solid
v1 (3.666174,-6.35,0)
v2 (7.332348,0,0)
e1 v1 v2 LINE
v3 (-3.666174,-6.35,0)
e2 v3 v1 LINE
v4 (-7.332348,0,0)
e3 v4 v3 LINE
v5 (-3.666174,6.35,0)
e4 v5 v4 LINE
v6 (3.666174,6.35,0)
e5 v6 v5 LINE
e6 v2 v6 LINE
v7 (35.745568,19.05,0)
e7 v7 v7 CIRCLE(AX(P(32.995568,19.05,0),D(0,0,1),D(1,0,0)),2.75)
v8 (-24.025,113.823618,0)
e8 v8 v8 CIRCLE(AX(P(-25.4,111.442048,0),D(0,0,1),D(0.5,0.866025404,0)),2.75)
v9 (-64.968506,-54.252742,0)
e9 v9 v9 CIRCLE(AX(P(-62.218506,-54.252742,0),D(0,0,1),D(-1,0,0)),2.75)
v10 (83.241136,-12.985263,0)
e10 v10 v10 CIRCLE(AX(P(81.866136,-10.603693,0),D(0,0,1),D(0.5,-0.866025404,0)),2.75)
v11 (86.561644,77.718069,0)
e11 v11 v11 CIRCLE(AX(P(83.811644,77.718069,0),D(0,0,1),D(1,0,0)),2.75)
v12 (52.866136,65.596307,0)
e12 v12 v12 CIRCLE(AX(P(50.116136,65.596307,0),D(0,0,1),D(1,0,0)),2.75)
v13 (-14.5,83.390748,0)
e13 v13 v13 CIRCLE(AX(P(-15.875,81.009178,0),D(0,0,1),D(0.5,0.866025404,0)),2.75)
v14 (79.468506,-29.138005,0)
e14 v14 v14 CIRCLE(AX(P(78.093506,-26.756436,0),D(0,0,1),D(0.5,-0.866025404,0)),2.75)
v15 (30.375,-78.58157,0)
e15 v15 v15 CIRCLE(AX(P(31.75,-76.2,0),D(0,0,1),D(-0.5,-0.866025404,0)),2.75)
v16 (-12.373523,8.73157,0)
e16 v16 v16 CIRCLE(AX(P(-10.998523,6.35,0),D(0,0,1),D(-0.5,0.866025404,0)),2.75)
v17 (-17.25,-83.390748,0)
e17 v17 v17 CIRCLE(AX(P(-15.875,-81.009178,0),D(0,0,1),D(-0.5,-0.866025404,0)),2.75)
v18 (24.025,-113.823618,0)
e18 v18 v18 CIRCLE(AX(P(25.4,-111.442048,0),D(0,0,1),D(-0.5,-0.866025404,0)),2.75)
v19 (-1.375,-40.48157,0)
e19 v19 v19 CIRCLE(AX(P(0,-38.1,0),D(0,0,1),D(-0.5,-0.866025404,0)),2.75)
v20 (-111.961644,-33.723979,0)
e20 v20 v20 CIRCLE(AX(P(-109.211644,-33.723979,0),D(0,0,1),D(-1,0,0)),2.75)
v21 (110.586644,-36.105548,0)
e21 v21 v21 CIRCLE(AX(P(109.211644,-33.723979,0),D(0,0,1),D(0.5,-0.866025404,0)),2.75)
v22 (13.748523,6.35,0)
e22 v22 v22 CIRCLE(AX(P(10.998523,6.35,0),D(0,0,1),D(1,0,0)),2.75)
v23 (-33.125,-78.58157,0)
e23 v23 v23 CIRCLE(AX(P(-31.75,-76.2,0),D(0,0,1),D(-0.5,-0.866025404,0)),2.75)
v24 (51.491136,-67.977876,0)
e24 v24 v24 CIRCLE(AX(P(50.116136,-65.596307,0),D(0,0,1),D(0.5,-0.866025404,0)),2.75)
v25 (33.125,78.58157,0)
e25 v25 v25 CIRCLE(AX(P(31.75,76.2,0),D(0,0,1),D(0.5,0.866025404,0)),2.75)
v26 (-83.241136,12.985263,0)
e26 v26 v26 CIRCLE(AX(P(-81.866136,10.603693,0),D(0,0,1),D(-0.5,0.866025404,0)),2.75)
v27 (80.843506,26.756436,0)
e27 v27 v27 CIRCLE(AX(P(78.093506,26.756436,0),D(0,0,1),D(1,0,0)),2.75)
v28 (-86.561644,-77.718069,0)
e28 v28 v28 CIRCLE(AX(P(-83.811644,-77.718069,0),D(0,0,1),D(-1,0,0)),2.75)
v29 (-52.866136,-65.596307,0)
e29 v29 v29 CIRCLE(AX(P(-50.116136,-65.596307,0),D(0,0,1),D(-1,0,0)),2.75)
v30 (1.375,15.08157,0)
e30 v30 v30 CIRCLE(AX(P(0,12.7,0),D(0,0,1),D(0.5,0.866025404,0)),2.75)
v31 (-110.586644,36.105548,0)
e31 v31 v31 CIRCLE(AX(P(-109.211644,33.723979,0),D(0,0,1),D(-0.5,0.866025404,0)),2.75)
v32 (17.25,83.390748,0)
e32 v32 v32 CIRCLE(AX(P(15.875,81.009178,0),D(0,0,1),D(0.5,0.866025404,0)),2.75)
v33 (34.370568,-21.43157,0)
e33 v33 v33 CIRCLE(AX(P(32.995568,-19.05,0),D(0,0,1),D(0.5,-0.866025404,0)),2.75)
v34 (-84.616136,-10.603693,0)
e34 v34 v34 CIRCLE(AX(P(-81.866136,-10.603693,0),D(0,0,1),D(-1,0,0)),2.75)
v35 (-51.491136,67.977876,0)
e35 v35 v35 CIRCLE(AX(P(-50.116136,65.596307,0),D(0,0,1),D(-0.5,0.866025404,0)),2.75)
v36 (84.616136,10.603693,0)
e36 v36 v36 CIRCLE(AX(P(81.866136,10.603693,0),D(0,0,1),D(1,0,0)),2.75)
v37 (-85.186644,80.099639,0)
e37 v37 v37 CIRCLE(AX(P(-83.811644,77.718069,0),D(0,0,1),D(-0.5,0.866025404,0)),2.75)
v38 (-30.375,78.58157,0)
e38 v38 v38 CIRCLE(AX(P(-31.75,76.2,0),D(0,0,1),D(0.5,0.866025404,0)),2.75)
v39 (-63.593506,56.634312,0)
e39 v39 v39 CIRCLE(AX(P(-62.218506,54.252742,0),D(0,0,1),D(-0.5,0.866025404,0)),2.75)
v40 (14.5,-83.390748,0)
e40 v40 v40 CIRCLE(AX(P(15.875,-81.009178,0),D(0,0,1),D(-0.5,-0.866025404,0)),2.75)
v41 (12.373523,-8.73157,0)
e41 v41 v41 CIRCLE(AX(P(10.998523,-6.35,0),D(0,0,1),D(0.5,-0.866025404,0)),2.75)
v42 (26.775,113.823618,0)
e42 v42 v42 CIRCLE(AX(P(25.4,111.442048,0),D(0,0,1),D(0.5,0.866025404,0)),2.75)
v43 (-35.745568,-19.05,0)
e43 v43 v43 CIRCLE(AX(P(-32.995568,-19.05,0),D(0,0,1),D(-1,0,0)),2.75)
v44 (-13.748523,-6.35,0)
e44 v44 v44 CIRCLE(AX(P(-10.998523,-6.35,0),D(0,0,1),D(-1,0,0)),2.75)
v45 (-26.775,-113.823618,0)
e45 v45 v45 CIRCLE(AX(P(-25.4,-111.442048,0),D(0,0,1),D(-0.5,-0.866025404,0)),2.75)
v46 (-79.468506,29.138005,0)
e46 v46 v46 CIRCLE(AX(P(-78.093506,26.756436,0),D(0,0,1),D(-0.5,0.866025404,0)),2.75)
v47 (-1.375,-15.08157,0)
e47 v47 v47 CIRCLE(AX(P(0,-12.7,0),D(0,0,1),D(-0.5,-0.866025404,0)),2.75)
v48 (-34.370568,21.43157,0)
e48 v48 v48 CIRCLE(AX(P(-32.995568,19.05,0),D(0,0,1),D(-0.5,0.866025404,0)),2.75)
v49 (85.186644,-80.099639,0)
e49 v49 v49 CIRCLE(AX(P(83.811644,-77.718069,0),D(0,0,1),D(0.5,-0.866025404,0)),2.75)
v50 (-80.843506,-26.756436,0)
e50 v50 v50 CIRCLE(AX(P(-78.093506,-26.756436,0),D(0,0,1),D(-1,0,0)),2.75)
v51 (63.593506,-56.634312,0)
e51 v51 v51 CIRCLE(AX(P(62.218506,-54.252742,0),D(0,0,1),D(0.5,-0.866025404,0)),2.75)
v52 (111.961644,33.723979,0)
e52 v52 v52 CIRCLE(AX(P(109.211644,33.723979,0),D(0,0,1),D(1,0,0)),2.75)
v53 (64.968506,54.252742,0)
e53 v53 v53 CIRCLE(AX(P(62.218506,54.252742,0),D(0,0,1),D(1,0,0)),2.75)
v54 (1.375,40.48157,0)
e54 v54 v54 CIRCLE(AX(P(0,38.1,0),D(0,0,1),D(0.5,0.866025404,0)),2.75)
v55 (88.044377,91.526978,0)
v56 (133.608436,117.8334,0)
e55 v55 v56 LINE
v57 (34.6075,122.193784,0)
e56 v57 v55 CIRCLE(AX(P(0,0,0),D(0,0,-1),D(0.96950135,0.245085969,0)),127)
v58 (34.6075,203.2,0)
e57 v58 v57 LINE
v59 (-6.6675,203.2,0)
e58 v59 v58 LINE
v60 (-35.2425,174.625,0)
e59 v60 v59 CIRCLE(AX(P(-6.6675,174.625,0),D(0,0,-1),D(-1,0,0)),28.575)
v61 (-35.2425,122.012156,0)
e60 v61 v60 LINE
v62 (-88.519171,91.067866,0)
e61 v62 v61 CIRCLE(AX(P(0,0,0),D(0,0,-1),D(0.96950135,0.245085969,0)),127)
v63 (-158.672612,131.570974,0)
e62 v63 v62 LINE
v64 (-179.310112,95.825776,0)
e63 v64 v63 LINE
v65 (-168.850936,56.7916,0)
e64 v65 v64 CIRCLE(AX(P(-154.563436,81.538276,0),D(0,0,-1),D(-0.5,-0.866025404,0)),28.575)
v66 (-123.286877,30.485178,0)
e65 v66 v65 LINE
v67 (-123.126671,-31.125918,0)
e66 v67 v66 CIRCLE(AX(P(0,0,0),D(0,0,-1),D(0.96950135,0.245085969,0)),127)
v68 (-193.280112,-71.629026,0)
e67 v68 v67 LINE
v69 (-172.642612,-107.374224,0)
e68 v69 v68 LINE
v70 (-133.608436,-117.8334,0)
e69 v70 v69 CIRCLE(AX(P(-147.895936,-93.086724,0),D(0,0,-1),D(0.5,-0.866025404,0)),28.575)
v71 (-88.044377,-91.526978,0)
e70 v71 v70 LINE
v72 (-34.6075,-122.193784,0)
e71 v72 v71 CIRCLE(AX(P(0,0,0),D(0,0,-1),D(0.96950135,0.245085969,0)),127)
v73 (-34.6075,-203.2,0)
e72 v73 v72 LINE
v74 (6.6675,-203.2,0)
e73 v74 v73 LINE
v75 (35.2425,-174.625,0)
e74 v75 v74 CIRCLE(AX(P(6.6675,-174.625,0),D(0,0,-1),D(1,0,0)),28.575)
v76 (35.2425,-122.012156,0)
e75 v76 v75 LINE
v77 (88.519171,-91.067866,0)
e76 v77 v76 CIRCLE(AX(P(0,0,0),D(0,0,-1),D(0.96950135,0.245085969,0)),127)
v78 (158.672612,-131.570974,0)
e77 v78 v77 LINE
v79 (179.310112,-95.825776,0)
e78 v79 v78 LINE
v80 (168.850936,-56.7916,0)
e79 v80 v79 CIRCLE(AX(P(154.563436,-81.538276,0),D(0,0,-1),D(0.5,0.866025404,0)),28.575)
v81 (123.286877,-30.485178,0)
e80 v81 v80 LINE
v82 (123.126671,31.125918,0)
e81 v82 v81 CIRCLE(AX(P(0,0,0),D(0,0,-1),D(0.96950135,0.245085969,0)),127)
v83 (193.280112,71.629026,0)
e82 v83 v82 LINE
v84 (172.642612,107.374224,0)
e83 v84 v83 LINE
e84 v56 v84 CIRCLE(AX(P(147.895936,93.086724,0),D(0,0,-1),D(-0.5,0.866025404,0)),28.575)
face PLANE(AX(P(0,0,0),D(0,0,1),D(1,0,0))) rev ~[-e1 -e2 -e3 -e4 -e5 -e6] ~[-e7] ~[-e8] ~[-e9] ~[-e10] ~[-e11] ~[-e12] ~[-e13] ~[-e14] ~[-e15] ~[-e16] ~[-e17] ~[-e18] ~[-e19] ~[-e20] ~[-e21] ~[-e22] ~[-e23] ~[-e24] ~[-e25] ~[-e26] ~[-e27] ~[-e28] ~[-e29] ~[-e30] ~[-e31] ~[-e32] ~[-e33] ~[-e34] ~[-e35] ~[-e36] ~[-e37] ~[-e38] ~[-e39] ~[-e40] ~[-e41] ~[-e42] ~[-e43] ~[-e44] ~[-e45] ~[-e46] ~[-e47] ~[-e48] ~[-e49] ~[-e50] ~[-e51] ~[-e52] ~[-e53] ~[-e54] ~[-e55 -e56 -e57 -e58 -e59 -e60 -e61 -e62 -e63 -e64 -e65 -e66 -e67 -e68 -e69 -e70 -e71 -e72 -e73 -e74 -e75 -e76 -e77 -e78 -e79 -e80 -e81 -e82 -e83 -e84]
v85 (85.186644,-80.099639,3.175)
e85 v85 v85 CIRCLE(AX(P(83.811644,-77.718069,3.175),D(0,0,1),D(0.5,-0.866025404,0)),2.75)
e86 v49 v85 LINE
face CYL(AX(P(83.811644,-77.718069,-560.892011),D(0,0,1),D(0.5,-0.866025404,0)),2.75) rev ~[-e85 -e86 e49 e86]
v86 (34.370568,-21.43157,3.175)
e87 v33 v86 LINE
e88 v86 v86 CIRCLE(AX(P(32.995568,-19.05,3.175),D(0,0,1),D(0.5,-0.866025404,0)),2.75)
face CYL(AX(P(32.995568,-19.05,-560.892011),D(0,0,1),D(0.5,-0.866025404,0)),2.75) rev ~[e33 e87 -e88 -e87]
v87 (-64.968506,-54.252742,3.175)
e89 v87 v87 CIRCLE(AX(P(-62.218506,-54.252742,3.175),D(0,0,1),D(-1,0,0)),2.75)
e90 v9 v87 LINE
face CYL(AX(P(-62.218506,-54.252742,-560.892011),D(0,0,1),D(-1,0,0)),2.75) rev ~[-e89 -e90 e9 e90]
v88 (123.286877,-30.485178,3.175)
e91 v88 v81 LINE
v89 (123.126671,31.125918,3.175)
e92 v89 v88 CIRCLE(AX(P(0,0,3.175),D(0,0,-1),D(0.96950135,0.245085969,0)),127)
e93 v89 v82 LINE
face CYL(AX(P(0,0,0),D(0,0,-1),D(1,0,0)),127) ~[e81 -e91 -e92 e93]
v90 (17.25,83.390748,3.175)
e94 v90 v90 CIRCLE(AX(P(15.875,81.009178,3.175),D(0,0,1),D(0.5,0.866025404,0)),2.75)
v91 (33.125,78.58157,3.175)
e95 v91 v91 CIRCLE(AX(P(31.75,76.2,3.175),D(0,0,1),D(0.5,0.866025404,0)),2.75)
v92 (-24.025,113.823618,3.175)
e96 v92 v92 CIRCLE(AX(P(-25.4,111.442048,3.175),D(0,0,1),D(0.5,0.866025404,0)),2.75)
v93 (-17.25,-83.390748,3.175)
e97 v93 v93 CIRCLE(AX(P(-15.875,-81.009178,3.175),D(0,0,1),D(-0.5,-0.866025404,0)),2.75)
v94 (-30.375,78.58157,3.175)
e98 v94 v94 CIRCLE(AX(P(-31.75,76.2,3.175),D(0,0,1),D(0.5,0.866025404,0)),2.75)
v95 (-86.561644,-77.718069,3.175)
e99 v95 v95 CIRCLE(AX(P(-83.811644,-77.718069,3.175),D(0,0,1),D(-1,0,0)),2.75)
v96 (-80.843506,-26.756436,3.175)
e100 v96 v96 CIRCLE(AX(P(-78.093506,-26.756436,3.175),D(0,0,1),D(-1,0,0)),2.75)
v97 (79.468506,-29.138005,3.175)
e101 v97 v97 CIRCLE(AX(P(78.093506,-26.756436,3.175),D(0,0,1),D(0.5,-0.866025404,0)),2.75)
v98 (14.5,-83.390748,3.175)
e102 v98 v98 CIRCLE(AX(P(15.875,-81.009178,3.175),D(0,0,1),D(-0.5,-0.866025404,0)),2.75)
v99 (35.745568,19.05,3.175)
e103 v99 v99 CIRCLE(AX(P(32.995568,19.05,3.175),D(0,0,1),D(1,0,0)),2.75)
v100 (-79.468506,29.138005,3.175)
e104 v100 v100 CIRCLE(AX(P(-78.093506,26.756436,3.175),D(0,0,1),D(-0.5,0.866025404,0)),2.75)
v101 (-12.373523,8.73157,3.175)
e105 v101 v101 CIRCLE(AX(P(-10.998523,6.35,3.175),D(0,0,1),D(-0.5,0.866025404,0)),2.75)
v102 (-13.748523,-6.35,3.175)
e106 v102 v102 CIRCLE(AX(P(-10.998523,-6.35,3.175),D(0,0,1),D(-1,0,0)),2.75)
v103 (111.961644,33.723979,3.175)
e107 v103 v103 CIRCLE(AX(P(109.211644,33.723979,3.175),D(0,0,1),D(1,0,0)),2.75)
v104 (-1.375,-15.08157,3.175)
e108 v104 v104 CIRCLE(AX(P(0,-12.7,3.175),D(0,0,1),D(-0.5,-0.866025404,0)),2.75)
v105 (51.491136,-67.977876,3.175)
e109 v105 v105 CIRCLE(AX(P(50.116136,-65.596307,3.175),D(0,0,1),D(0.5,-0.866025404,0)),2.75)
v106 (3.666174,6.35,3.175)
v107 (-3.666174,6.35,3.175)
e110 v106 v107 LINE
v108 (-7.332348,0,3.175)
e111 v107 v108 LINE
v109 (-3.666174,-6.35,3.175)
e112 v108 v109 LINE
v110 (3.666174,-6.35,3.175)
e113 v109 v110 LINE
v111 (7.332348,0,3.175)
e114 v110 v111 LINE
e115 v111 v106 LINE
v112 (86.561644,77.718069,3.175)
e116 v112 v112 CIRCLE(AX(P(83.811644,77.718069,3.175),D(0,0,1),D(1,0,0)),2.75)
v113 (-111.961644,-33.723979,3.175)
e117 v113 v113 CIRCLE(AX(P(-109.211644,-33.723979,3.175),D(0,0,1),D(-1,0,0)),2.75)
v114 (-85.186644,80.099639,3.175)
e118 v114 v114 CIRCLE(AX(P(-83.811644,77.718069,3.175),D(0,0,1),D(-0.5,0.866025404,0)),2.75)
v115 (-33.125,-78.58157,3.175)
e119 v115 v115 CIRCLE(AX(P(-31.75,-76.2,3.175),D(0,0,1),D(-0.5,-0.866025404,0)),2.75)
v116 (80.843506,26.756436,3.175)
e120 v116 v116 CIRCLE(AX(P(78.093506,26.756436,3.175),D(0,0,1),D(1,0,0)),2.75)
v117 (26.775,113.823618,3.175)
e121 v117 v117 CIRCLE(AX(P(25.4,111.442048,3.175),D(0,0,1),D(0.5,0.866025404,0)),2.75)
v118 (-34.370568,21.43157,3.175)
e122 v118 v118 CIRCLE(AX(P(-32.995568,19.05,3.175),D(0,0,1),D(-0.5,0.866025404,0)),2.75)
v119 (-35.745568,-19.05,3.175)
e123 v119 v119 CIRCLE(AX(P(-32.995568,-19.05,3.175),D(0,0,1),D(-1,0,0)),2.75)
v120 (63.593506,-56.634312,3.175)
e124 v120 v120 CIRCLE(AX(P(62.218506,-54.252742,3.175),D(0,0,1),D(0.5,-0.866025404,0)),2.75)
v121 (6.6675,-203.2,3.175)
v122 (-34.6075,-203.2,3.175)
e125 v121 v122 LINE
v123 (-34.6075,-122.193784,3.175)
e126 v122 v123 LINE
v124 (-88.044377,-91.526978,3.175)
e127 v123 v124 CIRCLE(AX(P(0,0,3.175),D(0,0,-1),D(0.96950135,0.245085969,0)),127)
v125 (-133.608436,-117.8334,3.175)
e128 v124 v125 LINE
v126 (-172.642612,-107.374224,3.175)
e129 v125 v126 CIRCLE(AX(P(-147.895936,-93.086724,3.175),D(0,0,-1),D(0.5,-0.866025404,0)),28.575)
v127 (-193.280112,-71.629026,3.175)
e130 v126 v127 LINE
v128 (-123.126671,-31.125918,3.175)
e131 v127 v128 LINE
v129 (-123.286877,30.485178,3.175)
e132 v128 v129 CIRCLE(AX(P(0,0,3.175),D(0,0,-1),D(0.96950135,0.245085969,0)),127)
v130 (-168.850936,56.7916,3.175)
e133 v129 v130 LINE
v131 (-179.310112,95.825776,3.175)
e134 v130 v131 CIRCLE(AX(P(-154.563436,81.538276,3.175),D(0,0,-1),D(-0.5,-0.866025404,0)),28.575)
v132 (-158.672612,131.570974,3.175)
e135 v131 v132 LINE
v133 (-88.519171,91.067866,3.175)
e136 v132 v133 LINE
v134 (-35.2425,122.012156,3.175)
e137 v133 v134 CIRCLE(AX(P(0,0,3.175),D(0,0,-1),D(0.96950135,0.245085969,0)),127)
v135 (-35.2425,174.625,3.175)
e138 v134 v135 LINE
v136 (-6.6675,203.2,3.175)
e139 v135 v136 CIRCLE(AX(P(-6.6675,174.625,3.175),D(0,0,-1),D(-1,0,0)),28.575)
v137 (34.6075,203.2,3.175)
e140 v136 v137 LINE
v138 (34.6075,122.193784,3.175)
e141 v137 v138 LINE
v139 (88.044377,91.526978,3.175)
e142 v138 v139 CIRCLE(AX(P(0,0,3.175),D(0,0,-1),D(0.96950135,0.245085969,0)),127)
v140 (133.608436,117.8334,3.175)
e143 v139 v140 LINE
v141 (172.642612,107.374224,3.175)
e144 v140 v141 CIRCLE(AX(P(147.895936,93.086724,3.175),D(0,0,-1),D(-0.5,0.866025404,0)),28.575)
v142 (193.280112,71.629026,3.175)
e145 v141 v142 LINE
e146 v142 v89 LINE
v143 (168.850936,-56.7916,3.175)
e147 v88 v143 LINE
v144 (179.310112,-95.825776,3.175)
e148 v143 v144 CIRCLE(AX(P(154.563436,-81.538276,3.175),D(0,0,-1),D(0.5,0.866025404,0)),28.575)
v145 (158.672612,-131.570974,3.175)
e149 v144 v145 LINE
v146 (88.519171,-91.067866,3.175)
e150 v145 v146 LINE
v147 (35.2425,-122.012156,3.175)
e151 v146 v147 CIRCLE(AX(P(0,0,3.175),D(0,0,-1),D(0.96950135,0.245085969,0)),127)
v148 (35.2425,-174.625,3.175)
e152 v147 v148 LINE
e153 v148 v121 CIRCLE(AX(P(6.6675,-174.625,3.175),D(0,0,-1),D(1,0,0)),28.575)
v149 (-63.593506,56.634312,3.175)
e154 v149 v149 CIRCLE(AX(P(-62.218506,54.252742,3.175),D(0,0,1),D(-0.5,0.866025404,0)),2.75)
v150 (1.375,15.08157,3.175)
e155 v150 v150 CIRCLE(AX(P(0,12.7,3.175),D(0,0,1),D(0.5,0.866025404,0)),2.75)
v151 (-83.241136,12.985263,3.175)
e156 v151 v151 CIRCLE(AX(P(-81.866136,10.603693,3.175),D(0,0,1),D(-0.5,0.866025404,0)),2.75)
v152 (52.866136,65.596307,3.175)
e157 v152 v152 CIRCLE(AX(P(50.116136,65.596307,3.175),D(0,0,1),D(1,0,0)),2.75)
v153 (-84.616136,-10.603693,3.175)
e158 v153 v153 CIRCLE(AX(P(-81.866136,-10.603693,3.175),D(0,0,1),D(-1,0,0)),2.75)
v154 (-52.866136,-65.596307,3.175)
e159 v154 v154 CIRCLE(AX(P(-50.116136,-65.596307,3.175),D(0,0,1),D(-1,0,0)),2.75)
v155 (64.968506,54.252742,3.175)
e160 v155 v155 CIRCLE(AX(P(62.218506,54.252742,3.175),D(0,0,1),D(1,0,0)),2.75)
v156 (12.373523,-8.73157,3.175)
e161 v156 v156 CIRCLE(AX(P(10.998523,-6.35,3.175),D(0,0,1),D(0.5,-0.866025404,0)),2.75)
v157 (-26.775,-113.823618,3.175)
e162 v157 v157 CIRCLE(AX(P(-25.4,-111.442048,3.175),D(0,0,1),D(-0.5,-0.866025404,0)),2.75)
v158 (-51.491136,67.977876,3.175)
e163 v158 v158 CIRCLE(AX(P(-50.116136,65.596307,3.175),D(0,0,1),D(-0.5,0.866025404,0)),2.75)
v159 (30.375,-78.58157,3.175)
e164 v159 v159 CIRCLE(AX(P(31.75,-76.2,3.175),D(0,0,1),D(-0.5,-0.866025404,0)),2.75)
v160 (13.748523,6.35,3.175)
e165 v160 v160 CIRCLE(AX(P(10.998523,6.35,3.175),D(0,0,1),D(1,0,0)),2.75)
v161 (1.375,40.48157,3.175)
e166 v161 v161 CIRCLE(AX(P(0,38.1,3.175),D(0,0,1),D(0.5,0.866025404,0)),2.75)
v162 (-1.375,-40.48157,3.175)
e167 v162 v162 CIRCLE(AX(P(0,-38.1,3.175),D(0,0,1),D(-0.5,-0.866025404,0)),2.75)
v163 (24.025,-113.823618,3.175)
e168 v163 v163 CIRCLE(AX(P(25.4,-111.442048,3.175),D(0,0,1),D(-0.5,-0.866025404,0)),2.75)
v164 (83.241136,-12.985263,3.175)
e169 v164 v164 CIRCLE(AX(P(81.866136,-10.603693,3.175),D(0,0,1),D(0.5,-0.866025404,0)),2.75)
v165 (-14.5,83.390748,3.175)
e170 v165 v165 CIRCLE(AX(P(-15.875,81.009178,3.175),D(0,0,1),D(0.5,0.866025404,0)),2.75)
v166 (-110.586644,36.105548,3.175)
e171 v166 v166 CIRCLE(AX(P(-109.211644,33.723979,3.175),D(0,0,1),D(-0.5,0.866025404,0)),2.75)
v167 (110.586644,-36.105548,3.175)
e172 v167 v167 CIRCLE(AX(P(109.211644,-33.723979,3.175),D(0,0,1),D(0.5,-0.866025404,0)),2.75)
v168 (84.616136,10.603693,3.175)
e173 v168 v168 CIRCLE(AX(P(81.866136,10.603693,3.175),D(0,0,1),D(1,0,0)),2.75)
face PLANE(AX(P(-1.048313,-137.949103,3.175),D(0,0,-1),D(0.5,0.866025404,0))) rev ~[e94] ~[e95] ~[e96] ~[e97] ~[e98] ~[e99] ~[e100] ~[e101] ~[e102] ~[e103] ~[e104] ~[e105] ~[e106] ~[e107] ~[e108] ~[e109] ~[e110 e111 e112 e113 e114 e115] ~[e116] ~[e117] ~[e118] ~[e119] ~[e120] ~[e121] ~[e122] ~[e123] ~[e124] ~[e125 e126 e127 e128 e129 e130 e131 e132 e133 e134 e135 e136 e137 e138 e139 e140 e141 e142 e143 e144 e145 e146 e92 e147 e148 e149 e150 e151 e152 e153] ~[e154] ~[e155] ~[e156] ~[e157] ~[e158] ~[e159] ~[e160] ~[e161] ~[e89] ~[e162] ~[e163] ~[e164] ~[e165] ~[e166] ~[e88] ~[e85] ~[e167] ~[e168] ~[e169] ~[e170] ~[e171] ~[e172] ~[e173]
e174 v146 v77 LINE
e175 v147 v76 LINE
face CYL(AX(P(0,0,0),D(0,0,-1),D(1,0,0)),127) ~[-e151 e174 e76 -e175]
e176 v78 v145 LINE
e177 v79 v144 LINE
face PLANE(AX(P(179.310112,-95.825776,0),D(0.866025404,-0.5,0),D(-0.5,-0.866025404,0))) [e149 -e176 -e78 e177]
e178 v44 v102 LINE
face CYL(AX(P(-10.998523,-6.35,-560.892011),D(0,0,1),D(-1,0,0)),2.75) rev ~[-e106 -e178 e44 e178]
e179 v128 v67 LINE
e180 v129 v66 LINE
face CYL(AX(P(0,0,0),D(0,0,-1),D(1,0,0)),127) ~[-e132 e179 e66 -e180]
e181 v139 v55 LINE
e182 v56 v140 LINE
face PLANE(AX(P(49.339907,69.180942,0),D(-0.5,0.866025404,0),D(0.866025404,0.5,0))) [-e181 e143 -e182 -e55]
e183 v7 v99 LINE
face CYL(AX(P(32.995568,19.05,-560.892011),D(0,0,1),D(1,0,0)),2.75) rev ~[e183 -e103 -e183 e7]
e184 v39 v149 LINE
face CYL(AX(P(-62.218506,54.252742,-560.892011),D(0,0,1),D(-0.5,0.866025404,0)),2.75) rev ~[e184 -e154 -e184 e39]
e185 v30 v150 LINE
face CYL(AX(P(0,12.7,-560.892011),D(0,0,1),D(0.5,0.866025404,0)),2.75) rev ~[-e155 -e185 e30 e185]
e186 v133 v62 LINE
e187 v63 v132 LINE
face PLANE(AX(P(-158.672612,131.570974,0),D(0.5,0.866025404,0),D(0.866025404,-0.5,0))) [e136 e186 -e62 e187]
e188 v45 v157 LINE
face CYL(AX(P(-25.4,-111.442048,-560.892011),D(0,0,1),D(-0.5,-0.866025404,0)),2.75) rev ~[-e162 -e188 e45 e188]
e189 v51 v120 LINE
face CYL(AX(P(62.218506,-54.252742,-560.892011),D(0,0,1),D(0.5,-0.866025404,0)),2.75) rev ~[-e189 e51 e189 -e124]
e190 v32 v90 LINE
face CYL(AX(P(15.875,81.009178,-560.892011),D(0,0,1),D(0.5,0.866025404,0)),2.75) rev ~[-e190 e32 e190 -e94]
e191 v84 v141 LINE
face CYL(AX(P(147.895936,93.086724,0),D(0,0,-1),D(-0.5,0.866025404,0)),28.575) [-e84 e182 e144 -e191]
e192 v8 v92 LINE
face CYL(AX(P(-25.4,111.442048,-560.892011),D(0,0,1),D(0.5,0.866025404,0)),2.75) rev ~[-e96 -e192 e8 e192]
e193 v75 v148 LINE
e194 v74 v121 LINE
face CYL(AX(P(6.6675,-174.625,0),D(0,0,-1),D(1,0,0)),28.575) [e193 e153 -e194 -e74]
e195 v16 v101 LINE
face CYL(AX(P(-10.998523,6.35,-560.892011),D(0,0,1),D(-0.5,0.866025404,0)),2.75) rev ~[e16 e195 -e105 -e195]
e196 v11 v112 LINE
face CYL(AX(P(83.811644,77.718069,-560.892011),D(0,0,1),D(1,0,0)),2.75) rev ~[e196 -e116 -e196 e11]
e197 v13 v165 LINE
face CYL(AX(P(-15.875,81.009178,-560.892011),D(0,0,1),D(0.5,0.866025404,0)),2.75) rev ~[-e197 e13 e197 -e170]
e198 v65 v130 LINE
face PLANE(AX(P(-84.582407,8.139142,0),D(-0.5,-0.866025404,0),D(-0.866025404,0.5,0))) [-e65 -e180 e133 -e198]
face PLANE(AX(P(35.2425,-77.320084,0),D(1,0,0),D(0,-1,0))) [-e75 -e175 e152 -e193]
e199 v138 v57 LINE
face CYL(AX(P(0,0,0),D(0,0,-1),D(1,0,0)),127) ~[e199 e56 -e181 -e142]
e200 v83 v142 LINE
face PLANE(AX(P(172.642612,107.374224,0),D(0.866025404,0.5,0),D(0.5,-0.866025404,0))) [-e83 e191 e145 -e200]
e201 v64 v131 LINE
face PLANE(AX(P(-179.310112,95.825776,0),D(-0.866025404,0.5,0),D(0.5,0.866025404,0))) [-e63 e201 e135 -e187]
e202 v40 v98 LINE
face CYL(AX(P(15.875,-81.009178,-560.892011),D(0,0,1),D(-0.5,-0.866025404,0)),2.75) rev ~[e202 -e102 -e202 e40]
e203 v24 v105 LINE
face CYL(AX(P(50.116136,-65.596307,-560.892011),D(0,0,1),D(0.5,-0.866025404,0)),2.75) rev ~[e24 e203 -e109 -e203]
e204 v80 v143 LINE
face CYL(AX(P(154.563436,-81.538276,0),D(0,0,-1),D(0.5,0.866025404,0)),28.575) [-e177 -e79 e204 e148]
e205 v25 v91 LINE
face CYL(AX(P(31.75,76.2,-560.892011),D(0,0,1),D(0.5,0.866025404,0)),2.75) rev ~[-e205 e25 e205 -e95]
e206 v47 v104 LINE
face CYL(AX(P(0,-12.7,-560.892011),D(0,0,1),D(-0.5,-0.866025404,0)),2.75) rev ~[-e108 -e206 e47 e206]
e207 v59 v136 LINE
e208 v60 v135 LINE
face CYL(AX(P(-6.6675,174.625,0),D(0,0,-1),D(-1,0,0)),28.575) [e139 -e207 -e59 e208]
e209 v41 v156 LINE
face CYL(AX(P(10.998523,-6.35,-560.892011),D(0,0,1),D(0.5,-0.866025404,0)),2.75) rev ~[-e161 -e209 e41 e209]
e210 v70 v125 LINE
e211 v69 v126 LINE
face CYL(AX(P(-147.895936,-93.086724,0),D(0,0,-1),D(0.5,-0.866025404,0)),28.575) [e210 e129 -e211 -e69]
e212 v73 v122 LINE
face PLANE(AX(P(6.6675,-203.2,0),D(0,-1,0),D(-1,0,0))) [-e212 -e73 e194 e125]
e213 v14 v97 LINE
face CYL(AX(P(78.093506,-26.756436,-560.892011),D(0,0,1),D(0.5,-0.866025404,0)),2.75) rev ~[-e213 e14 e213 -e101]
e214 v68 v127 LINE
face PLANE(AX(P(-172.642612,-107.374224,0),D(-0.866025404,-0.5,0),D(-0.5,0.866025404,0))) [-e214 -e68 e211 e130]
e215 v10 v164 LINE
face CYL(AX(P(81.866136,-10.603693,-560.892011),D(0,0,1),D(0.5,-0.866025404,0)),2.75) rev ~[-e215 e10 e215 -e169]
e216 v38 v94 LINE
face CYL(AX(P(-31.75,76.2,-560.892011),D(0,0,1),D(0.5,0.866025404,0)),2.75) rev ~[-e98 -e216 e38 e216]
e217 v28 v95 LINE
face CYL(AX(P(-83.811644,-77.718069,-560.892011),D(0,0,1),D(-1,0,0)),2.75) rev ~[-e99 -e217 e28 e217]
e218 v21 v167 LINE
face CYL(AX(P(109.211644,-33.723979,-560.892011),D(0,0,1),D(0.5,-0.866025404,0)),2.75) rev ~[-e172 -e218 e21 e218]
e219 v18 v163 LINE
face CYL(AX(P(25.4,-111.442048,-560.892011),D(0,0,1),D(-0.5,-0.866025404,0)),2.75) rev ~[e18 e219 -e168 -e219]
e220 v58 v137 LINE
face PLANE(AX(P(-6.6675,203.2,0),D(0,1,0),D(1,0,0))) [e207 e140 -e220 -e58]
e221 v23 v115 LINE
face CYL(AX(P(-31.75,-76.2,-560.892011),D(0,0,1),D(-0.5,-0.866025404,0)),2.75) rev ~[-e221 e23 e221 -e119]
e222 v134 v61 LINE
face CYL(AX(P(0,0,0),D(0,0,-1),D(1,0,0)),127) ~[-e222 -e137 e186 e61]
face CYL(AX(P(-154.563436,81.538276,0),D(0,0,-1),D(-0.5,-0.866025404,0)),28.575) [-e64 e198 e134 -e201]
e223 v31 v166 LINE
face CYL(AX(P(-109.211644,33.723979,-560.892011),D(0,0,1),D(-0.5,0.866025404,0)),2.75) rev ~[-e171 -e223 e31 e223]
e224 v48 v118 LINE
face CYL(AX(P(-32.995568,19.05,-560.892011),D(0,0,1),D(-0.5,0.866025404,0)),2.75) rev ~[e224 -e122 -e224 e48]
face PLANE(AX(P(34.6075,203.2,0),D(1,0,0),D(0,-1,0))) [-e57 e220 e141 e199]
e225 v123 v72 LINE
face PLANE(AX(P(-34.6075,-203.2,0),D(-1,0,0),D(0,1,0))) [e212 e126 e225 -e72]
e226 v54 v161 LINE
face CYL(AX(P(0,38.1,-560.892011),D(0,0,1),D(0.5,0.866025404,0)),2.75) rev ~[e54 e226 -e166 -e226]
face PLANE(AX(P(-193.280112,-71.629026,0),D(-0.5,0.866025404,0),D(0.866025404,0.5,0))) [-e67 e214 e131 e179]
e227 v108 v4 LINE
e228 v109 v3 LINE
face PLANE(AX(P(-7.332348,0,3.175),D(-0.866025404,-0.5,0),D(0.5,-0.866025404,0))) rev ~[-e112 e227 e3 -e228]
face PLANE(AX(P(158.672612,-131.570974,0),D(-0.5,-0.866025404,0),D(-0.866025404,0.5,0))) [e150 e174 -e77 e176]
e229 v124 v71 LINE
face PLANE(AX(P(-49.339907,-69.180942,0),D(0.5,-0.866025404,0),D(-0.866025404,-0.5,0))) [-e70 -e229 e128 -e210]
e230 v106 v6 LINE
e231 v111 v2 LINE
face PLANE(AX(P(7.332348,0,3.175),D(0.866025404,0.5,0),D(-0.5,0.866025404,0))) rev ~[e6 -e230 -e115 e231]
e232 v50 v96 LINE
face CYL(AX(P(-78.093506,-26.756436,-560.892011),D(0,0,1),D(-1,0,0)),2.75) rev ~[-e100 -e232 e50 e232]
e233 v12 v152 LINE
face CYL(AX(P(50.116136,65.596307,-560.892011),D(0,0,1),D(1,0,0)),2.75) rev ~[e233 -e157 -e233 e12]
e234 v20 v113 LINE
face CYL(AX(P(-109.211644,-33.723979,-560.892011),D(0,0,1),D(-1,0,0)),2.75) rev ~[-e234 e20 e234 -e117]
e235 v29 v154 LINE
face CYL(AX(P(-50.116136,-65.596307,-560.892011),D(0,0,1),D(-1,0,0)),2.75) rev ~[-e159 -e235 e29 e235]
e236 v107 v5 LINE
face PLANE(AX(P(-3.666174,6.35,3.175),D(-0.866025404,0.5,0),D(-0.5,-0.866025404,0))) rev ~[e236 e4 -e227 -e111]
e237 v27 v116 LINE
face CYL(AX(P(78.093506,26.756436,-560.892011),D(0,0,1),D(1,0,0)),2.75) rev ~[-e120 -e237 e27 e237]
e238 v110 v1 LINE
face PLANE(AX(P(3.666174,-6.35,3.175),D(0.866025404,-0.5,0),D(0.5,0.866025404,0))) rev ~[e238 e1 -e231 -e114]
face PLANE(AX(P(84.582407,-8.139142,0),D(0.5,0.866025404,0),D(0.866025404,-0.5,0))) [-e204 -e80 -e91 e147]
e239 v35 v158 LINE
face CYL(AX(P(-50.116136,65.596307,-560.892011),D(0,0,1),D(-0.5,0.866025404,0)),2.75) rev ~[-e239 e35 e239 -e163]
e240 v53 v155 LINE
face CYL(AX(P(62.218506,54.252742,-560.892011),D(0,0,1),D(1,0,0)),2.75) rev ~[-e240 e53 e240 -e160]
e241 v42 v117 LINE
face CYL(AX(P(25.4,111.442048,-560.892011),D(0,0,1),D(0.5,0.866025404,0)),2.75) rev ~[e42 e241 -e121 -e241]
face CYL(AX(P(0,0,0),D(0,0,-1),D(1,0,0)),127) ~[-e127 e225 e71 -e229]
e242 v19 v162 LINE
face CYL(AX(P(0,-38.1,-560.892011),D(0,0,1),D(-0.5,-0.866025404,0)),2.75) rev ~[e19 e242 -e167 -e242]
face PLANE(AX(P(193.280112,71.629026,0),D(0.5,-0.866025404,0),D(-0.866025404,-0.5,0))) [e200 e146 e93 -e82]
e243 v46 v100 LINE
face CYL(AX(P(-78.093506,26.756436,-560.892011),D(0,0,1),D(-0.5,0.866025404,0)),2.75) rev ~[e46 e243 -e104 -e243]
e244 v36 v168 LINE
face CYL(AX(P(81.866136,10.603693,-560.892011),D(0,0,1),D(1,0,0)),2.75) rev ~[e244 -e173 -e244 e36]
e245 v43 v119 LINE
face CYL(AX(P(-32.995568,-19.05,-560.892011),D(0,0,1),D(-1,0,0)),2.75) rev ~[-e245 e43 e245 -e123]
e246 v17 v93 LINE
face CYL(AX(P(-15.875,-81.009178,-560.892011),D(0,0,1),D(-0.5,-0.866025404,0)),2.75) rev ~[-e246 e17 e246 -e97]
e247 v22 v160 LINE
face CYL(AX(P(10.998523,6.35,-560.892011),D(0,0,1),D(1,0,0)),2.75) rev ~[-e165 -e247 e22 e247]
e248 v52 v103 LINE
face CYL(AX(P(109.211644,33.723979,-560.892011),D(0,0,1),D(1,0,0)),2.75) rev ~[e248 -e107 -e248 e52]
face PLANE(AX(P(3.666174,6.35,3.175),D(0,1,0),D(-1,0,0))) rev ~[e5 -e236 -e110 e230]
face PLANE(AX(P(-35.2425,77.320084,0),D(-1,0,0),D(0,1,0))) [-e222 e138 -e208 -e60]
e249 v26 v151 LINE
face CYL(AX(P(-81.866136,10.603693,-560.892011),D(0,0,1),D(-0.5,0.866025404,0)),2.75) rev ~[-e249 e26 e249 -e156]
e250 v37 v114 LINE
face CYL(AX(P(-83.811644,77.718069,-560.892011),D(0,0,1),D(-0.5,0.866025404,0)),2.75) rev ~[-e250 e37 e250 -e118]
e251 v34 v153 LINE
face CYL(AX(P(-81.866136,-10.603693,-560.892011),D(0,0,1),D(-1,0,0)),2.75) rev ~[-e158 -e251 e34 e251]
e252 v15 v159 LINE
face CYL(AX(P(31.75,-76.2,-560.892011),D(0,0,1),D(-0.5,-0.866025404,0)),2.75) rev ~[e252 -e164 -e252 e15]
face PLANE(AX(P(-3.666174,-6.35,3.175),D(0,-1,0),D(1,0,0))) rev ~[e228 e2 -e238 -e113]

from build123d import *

# Parameters (mm, degrees)
SKETCH1_R            = 127
BOSS_EXTRUDE1_DEPTH  = 3.175
BOSS_EXTRUDE2_DEPTH  = 3.175
CIRPATTERN2_COUNT    = 6
CUT_EXTRUDE1_DEPTH   = 281.459484309
M5_CLEARANCE_HOLE1_D = 5.5
CIRPATTERN3_COUNT    = 6


with BuildPart() as part:
    # Sketch1 → Boss-Extrude1 (new body)
    with BuildSketch(Plane.XY):
        Circle(SKETCH1_R)
    extrude(amount=BOSS_EXTRUDE1_DEPTH)

    # Sketch6 → Boss-Extrude2 (add)
    with BuildSketch(Plane(origin=(0, 0, 0), x_dir=(-1, 0, 0), z_dir=(0, 0, -1))):
        with BuildLine():
            Line((-49.339907198, 69.180942427), (-133.608436136, 117.833400293))
            ThreePointArc((-133.608436136, 117.833400293), (-155.29169035, 120.688054866), (-172.642612049, 107.37422438))
            Line((-172.642612049, 107.37422438), (-193.280112049, 71.629025839))
            Line((-193.280112049, 71.629025839), (-84.264907198, 8.689067972))
            Line((-84.264907198, 8.689067972), (-49.339907198, 69.180942427))
        make_face()
    boss_extrude2 = extrude(amount=-BOSS_EXTRUDE2_DEPTH)

    # CirPattern2: Boss-Extrude2 ×6 about axis
    cirpattern2_axis = Axis((0, 0, 0), (0, 0, 1))
    for i in range(1, CIRPATTERN2_COUNT):
        add(boss_extrude2.rotate(cirpattern2_axis, i * 360 / CIRPATTERN2_COUNT))

    # Sketch7 → Cut-Extrude1 (cut, through all)
    with BuildSketch(Plane.XY.offset(3.175)):
        Polygon((7.332348419, 0), (3.666174209, 6.35), (-3.666174209, 6.35), (-7.332348419, 0), (-3.666174209, -6.35), (3.666174209, -6.35), align=None)
    extrude(amount=-CUT_EXTRUDE1_DEPTH, mode=Mode.SUBTRACT)

    # M5 Clearance Hole1 (through all)
    with Locations(Plane(origin=(0, 0, 0), x_dir=(-1, 0, 0), z_dir=(0, 0, -1))):
        with Locations((-62.218505846, 54.252742145), (-78.093505846, 26.756435575), (-81.866135768, 10.60369343), (-109.211644375, 33.723978604), (-83.811644375, 77.718069116), (-50.116135768, 65.59630657), (-32.995567884, 19.05), (-10.998522628, 6.35)):
            m5_clearance_hole1 = Hole(M5_CLEARANCE_HOLE1_D / 2)

    # CirPattern3: M5 Clearance Hole1 ×6 about axis
    cirpattern3_axis = Axis((0, 0, 0), (0, 0, 1))
    for i in range(1, CIRPATTERN3_COUNT):
        add(m5_clearance_hole1.rotate(cirpattern3_axis, i * 360 / CIRPATTERN3_COUNT), mode=Mode.SUBTRACT)


solid = part.part
